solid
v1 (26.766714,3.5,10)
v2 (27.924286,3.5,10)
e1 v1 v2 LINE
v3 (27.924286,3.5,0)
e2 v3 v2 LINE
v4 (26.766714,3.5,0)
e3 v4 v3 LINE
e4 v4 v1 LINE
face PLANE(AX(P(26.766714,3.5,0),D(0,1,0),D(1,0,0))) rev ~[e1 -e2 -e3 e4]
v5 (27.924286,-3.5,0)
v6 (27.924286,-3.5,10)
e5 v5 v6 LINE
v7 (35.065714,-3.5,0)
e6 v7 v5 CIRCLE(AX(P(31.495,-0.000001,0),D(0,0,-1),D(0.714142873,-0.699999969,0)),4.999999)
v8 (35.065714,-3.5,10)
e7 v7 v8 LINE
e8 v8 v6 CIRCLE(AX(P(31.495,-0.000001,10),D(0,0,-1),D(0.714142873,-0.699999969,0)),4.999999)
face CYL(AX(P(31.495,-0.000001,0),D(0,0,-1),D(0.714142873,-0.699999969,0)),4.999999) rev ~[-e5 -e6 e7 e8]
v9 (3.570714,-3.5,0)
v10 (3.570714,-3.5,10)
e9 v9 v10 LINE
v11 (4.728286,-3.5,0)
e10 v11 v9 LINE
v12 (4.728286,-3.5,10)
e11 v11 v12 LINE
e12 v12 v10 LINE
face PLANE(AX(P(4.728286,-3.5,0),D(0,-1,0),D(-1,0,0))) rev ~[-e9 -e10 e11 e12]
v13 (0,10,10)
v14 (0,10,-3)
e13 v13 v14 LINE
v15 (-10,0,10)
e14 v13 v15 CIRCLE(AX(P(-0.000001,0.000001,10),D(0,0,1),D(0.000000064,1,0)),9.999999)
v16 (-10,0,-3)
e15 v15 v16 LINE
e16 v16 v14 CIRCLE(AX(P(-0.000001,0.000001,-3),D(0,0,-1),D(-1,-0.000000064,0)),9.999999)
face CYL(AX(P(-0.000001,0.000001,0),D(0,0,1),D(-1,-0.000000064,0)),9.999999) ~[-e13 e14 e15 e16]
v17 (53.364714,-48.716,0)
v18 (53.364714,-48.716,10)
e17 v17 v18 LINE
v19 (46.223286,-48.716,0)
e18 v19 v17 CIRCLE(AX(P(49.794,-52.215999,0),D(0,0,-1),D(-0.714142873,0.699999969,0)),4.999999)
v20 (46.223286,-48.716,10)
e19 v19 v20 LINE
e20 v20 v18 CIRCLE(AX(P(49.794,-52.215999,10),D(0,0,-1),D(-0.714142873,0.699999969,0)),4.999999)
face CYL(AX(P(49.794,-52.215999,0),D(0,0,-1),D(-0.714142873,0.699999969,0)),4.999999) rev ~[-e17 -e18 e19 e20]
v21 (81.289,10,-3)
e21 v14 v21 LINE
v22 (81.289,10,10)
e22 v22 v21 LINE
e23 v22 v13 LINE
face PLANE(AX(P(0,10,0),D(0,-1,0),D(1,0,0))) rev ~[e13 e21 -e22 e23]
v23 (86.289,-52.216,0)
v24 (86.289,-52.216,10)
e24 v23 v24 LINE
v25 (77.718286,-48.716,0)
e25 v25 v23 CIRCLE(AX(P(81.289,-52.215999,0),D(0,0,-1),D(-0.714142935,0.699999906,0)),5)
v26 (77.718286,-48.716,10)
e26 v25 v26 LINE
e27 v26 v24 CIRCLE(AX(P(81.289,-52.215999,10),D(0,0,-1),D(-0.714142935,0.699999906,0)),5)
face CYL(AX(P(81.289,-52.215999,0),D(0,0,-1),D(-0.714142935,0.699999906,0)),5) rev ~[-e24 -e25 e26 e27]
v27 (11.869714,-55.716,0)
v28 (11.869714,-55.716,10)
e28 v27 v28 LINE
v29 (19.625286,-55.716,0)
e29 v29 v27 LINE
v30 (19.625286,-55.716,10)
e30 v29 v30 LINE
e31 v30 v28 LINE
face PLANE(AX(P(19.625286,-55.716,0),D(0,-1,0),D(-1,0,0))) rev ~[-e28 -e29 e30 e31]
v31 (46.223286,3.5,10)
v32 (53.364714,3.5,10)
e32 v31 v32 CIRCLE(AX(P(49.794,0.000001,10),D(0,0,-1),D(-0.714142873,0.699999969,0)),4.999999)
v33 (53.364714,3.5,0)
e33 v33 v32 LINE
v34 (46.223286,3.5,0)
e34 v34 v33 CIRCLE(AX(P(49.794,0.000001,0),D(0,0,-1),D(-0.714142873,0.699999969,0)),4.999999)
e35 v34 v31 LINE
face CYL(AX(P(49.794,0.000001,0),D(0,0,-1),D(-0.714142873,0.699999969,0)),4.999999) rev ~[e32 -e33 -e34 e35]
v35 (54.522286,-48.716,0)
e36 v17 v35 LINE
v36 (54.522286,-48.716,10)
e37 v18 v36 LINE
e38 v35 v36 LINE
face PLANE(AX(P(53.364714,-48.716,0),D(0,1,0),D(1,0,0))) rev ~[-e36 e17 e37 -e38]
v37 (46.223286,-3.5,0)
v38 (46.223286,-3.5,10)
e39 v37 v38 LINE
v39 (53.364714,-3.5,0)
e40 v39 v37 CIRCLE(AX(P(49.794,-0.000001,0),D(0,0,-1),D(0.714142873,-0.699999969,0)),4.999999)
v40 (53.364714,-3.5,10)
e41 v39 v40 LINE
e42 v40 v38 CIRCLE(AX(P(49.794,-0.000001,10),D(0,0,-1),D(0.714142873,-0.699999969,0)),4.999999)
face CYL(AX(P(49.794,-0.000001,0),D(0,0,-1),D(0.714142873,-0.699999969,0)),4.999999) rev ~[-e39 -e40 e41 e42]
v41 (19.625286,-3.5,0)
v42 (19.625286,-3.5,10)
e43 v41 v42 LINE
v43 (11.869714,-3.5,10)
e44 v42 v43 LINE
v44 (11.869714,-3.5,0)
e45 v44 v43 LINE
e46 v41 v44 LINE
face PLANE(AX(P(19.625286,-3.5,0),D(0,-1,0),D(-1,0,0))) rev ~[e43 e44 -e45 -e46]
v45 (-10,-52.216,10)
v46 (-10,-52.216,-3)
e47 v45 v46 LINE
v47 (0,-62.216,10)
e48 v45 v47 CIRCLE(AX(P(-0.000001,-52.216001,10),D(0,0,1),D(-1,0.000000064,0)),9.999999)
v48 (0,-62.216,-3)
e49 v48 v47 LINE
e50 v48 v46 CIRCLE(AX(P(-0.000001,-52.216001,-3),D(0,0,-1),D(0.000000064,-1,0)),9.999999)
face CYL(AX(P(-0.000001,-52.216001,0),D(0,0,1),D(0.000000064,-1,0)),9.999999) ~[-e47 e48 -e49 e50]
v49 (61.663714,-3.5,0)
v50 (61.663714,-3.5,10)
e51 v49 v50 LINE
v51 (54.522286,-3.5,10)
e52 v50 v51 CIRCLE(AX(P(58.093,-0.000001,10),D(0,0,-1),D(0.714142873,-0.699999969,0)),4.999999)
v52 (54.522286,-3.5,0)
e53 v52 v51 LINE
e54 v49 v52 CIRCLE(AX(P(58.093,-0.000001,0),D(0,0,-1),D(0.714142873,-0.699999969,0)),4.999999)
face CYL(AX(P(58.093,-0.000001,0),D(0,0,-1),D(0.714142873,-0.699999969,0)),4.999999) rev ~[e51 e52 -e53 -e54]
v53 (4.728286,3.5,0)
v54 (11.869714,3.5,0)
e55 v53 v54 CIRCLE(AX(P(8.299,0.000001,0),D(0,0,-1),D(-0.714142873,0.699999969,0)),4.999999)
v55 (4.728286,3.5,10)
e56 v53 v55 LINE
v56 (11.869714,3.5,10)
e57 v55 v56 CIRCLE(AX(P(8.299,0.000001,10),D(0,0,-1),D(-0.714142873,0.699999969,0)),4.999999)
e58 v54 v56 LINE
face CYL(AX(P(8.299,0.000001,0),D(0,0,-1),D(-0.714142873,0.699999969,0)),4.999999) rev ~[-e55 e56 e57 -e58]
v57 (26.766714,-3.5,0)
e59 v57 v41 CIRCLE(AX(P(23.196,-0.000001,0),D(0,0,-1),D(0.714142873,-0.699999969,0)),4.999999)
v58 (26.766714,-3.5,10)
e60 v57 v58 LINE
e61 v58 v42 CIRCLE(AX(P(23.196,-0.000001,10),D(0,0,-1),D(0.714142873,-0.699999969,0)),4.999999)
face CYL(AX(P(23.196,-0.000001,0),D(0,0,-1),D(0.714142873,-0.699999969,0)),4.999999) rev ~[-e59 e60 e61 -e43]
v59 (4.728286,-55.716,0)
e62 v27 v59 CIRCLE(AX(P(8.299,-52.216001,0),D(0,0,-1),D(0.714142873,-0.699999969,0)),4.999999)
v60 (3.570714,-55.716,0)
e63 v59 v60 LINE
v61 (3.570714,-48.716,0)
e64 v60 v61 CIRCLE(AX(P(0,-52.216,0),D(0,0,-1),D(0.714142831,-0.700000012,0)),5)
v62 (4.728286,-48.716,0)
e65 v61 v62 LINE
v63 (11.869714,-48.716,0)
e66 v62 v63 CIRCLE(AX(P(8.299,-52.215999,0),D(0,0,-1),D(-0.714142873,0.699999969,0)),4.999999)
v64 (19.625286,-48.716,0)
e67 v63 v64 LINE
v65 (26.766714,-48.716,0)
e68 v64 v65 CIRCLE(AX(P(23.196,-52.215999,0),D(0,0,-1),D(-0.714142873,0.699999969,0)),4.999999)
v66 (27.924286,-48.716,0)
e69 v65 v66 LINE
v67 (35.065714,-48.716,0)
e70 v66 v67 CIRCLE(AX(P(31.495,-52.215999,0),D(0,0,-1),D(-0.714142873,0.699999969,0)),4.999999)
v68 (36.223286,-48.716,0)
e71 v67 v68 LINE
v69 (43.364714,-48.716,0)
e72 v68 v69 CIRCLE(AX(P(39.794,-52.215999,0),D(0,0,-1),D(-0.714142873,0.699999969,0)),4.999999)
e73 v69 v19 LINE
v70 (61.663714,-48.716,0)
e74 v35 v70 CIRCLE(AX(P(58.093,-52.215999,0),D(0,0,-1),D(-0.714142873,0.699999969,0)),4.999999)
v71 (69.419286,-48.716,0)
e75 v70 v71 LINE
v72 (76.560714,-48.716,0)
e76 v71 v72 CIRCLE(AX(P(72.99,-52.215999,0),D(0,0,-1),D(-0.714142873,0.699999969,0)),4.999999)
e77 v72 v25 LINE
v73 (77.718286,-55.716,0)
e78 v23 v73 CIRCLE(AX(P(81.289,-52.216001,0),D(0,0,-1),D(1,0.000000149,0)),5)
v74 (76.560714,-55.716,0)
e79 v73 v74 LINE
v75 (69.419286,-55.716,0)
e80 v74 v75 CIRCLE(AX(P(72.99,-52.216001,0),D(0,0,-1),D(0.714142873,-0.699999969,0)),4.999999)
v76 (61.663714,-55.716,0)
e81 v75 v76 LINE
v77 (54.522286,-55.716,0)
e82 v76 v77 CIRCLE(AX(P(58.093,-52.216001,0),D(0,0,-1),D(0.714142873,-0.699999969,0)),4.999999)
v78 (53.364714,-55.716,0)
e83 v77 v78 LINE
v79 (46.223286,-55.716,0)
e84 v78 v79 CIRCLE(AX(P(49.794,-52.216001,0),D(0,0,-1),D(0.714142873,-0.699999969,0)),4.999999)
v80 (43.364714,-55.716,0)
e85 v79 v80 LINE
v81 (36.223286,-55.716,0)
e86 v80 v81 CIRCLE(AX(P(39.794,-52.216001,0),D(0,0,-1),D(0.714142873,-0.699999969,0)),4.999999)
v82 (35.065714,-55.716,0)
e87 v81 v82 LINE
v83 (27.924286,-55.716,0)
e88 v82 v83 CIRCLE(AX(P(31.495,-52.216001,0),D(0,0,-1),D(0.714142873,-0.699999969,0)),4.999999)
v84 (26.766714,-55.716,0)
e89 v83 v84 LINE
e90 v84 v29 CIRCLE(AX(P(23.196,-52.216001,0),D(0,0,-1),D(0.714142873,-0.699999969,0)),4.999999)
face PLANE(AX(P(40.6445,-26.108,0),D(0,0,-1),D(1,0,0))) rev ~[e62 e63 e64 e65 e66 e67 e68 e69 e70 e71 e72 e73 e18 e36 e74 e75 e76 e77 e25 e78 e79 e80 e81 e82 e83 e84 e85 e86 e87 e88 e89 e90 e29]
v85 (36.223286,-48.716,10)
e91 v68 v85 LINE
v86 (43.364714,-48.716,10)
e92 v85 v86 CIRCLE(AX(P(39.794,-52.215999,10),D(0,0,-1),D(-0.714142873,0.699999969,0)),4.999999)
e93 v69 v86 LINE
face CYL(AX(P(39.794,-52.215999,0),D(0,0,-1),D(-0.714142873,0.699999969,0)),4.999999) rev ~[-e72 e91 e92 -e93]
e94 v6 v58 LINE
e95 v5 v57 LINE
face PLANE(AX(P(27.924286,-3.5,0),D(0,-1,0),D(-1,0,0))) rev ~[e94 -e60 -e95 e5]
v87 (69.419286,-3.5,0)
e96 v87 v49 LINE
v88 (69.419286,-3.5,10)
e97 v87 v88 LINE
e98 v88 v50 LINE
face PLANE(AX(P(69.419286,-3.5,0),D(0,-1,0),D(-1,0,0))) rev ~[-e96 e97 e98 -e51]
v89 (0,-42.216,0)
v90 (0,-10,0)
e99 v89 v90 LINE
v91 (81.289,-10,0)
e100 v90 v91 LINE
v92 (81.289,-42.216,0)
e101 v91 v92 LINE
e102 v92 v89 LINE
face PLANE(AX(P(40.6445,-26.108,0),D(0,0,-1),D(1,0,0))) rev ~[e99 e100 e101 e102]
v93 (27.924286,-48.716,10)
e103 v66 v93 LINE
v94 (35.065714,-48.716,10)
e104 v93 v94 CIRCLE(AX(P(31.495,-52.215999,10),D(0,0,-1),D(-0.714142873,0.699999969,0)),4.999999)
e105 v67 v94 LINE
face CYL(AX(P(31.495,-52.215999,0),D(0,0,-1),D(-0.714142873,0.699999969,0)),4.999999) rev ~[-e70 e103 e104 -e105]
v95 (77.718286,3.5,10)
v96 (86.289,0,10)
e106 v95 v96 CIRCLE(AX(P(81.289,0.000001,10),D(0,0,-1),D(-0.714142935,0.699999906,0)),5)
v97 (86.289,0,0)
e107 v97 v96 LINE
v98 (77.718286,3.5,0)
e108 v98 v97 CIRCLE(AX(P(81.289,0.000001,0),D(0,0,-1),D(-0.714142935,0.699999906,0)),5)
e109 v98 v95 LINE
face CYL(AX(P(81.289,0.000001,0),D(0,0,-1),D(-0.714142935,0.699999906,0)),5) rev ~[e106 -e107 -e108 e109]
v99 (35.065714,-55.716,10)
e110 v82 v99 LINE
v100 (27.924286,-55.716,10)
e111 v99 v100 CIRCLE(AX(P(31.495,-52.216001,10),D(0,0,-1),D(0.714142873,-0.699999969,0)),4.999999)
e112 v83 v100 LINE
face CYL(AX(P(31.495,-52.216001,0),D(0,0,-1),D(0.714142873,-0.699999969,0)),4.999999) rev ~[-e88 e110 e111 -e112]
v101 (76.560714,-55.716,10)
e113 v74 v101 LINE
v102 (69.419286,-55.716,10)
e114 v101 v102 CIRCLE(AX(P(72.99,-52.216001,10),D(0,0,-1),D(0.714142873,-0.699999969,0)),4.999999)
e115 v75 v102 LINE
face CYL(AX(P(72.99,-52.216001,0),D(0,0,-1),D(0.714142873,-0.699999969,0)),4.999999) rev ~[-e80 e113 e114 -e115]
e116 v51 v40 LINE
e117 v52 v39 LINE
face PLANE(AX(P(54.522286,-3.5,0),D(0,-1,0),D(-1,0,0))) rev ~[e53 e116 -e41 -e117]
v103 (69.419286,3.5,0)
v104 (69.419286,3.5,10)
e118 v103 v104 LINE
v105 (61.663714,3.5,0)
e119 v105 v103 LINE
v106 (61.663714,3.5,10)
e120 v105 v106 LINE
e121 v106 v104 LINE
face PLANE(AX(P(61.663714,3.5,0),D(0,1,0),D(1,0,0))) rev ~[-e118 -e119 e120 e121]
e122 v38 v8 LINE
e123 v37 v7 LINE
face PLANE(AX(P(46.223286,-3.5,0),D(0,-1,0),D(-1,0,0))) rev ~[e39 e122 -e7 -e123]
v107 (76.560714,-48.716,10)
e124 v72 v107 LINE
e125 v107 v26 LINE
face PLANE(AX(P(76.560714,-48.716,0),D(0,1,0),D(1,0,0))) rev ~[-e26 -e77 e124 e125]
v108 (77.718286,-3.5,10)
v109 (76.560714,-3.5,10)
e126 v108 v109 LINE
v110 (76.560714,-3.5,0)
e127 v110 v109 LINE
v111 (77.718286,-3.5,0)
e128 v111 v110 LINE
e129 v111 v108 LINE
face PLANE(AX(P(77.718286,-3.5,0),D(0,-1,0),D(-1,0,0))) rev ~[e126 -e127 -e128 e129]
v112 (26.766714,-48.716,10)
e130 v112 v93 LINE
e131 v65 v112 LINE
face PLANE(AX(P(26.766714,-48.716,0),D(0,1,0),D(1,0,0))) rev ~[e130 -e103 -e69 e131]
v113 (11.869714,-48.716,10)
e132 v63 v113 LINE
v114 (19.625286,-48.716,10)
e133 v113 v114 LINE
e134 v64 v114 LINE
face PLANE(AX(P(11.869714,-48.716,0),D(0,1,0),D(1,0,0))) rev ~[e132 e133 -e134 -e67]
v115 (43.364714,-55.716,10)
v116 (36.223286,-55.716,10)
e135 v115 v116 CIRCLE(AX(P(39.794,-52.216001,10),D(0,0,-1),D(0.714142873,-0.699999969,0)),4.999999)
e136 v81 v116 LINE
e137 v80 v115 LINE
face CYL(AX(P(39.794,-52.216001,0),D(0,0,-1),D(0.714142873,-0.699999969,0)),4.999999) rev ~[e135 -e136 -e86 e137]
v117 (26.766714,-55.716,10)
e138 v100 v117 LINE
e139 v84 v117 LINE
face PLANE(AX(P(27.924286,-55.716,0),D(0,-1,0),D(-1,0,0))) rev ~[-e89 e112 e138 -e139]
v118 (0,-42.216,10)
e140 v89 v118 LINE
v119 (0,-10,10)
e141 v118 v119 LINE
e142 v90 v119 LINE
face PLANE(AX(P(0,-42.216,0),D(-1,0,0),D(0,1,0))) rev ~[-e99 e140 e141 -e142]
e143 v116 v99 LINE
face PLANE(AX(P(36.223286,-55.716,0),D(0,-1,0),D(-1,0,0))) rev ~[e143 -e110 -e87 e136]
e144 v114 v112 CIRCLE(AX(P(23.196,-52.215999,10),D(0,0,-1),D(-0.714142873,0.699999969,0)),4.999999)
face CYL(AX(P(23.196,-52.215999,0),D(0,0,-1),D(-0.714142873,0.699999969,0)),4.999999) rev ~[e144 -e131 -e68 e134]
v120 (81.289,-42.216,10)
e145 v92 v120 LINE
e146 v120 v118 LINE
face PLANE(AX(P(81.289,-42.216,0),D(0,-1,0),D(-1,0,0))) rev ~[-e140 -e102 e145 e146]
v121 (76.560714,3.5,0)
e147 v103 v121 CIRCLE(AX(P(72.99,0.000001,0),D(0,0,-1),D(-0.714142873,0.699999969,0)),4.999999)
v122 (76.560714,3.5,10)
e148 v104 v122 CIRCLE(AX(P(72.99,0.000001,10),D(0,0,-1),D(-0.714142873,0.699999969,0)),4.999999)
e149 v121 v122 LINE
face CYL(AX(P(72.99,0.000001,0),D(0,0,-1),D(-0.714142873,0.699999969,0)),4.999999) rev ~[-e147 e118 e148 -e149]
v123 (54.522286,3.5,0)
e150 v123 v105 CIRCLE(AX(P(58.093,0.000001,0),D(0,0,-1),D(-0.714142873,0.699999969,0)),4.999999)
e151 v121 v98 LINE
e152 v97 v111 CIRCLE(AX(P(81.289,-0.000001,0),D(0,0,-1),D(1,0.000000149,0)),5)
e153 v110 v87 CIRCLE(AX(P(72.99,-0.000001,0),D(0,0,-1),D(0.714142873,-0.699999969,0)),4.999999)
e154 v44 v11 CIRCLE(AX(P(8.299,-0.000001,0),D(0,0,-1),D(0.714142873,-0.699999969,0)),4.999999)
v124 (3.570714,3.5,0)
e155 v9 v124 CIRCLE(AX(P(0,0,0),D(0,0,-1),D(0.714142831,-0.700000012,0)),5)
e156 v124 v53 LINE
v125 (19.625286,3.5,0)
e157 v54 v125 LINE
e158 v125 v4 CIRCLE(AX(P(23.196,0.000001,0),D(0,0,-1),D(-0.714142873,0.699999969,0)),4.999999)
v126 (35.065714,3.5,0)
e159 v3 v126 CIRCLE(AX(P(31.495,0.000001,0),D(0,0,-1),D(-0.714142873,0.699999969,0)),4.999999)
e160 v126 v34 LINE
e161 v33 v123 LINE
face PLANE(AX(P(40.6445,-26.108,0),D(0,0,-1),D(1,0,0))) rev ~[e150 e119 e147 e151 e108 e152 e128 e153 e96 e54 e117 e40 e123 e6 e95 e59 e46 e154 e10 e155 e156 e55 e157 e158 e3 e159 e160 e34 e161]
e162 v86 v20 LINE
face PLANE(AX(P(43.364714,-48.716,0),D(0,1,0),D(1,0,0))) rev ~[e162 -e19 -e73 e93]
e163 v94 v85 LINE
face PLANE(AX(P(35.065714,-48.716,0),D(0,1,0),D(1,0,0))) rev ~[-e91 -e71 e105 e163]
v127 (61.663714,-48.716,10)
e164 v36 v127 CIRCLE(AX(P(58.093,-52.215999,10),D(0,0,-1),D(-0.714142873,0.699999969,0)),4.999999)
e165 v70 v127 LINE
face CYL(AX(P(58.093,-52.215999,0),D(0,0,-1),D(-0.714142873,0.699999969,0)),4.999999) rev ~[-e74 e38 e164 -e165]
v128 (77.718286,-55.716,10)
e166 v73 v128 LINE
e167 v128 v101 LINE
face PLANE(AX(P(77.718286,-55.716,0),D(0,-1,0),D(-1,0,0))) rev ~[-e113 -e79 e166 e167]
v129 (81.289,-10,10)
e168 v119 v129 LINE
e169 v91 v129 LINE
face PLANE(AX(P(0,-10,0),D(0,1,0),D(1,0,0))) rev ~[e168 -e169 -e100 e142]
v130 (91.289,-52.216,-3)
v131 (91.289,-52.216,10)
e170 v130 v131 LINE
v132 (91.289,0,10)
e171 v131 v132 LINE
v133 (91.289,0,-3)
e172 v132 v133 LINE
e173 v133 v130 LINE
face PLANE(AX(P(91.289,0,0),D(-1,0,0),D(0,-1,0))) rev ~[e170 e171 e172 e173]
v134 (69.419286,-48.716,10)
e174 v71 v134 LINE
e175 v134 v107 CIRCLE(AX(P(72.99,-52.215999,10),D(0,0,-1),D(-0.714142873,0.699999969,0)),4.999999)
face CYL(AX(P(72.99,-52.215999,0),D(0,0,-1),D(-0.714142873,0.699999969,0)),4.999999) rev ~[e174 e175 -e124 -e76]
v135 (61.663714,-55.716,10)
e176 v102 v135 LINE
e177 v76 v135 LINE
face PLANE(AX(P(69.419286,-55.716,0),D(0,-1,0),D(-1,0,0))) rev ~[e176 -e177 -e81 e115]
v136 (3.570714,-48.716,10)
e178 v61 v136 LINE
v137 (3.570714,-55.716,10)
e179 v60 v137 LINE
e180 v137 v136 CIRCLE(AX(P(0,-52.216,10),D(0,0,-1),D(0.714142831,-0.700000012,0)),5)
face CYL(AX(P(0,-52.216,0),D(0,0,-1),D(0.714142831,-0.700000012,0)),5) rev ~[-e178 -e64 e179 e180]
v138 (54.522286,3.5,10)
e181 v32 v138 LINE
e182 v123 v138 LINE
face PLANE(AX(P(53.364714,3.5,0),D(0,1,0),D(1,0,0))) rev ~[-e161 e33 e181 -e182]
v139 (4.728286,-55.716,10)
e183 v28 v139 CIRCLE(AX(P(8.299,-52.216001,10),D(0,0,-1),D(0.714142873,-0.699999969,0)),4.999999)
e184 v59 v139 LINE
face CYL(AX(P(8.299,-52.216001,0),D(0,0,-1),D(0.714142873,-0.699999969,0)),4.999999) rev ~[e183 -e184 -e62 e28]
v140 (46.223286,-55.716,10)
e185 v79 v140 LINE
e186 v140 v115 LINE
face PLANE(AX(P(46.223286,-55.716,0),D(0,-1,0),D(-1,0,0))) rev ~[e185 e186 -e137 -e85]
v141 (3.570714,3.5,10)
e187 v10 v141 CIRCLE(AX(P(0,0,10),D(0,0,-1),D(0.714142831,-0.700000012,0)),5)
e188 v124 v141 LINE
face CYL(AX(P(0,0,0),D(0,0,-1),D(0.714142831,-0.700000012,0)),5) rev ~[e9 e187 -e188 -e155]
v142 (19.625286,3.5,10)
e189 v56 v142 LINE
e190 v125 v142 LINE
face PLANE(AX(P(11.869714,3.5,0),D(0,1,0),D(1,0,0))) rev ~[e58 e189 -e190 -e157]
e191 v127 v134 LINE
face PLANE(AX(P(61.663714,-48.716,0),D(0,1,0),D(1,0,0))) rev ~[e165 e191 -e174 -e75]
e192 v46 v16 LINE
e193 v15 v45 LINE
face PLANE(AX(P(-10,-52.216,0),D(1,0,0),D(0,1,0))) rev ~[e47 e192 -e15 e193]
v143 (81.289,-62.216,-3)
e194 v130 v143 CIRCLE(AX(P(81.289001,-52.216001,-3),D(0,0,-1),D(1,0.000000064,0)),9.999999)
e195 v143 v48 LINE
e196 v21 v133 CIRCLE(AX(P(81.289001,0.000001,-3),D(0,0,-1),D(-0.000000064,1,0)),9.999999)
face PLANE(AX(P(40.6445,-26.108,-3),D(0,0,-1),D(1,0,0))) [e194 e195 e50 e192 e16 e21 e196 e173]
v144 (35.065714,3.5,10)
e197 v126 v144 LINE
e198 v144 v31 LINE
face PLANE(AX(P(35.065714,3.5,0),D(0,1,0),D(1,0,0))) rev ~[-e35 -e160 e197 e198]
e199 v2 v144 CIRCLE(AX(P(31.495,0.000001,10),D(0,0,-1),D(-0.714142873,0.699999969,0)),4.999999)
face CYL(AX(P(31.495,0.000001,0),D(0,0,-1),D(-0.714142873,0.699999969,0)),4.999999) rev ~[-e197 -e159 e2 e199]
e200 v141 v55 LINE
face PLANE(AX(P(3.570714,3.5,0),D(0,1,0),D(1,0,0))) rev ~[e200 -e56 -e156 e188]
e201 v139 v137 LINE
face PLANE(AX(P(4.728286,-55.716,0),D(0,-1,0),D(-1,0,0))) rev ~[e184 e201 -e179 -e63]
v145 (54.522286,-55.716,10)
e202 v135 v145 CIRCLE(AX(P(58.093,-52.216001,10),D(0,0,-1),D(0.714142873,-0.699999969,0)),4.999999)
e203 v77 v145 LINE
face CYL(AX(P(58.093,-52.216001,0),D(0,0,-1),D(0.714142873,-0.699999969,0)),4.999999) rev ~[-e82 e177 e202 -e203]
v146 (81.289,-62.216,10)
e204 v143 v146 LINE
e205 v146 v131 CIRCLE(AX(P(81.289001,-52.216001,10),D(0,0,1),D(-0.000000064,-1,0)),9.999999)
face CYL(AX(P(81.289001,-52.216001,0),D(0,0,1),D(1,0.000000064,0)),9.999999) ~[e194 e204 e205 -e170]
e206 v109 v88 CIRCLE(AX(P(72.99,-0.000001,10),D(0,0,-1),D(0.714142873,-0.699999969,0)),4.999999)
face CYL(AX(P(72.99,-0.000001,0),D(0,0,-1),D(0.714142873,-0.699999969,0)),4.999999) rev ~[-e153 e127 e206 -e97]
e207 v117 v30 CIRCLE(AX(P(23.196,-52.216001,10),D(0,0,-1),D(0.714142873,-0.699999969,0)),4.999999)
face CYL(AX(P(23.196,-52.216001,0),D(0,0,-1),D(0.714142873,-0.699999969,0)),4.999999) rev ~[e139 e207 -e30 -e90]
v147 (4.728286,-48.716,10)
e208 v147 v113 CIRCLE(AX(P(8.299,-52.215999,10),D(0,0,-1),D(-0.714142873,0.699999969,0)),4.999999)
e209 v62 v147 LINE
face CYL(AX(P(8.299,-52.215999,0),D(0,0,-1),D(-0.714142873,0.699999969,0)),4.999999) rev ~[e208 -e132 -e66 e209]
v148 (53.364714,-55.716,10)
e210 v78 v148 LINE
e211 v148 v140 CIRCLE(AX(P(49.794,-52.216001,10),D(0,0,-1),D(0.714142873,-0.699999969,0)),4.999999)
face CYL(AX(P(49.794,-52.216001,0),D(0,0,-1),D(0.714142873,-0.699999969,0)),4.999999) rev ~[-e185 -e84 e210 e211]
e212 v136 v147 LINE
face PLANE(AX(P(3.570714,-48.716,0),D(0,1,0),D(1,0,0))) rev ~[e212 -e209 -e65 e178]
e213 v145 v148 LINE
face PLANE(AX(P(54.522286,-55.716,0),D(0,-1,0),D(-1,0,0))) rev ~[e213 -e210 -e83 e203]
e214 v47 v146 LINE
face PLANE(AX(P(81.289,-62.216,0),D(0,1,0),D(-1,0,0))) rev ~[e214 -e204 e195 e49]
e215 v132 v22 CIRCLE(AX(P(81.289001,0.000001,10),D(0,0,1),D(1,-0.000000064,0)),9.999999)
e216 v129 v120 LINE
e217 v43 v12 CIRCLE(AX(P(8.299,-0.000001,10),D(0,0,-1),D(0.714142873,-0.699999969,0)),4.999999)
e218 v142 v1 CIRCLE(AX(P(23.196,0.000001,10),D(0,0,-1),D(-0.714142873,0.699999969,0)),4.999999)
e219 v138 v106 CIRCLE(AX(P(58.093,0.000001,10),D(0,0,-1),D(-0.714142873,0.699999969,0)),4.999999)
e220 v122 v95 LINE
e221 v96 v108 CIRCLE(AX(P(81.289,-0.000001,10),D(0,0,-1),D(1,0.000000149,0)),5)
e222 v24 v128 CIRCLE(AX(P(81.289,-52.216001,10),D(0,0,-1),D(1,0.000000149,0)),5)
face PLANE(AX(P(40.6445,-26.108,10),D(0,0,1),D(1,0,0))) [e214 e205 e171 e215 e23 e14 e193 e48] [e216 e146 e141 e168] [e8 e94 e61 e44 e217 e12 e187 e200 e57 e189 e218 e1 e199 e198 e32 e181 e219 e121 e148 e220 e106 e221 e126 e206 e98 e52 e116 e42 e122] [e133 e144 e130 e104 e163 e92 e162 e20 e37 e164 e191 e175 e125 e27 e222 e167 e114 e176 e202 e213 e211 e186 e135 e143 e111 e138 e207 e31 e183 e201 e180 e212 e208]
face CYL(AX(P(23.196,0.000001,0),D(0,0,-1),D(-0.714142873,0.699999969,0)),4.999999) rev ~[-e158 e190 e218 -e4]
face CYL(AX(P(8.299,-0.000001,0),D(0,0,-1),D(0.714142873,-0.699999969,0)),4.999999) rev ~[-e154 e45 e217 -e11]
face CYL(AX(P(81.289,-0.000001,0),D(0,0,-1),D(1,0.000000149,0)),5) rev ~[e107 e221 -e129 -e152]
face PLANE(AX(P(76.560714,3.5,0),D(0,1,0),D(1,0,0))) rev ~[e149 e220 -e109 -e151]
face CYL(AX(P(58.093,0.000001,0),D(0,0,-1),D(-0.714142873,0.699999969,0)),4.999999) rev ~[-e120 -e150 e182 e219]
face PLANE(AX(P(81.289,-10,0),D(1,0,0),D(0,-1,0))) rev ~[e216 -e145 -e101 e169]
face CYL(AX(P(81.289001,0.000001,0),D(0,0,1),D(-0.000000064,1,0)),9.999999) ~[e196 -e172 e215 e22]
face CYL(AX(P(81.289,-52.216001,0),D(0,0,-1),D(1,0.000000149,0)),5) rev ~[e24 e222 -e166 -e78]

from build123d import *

# Parameters (mm, degrees)
F1_DEPTH = 10
F3_DEPTH = 3


with BuildPart() as f1:
    # F0 (on Top) → F1 (new body)
    with BuildSketch(Plane.XY):
        with BuildLine():
            Line((81.289, 10), (0, 10))
            ThreePointArc((0, 10), (-7.071068, 7.071068), (-10, 0))
            Line((-10, 0), (-10, -26.108))
            Line((-10, -26.108), (-10, -52.216))
            ThreePointArc((-10, -52.216), (-7.071068, -59.287068), (0, -62.216))
            Line((0, -62.216), (81.289, -62.216))
            ThreePointArc((81.289, -62.216), (88.360068, -59.287068), (91.289, -52.216))
            Line((91.289, -52.216), (91.289, -26.108))
            Line((91.289, -26.108), (91.289, 0))
            ThreePointArc((91.289, 0), (88.360068, 7.071068), (81.289, 10))
        make_face()
        with BuildLine():
            ThreePointArc((3.570714, -55.716), (-5, -52.216), (3.570714, -48.716))
            Line((3.570714, -48.716), (4.728286, -48.716))
            ThreePointArc((4.728286, -48.716), (8.299, -47.216), (11.869714, -48.716))
            Line((11.869714, -48.716), (19.625286, -48.716))
            ThreePointArc((19.625286, -48.716), (23.196, -47.216), (26.766714, -48.716))
            Line((26.766714, -48.716), (27.924286, -48.716))
            ThreePointArc((27.924286, -48.716), (31.495, -47.216), (35.065714, -48.716))
            Line((35.065714, -48.716), (36.223286, -48.716))
            ThreePointArc((36.223286, -48.716), (39.794, -47.216), (43.364714, -48.716))
            Line((43.364714, -48.716), (46.223286, -48.716))
            ThreePointArc((46.223286, -48.716), (49.794, -47.216), (53.364714, -48.716))
            Line((53.364714, -48.716), (54.522286, -48.716))
            ThreePointArc((54.522286, -48.716), (58.093, -47.216), (61.663714, -48.716))
            Line((61.663714, -48.716), (69.419286, -48.716))
            ThreePointArc((69.419286, -48.716), (72.99, -47.216), (76.560714, -48.716))
            Line((76.560714, -48.716), (77.718286, -48.716))
            ThreePointArc((77.718286, -48.716), (83.179295, -47.587092), (86.289, -52.216))
            ThreePointArc((86.289, -52.216), (83.179295, -56.844908), (77.718286, -55.716))
            Line((77.718286, -55.716), (76.560714, -55.716))
            ThreePointArc((76.560714, -55.716), (72.99, -57.216), (69.419286, -55.716))
            Line((69.419286, -55.716), (61.663714, -55.716))
            ThreePointArc((61.663714, -55.716), (58.093, -57.216), (54.522286, -55.716))
            Line((54.522286, -55.716), (53.364714, -55.716))
            ThreePointArc((53.364714, -55.716), (49.794, -57.216), (46.223286, -55.716))
            Line((46.223286, -55.716), (43.364714, -55.716))
            ThreePointArc((43.364714, -55.716), (39.794, -57.216), (36.223286, -55.716))
            Line((36.223286, -55.716), (35.065714, -55.716))
            ThreePointArc((35.065714, -55.716), (31.495, -57.216), (27.924286, -55.716))
            Line((27.924286, -55.716), (26.766714, -55.716))
            ThreePointArc((26.766714, -55.716), (23.196, -57.216), (19.625286, -55.716))
            Line((19.625286, -55.716), (11.869714, -55.716))
            ThreePointArc((11.869714, -55.716), (8.299, -57.216), (4.728286, -55.716))
            Line((4.728286, -55.716), (3.570714, -55.716))
        make_face(mode=Mode.SUBTRACT)
        Polygon((0, -42.216), (0, -26.108), (0, -10), (81.289, -10), (81.289, -26.108), (81.289, -42.216), align=None, mode=Mode.SUBTRACT)
        with BuildLine():
            ThreePointArc((3.570714, -3.5), (-5, 0), (3.570714, 3.5))
            Line((3.570714, 3.5), (4.728286, 3.5))
            ThreePointArc((4.728286, 3.5), (8.299, 5), (11.869714, 3.5))
            Line((11.869714, 3.5), (19.625286, 3.5))
            ThreePointArc((19.625286, 3.5), (23.196, 5), (26.766714, 3.5))
            Line((26.766714, 3.5), (27.924286, 3.5))
            ThreePointArc((27.924286, 3.5), (31.495, 5), (35.065714, 3.5))
            Line((35.065714, 3.5), (46.223286, 3.5))
            ThreePointArc((46.223286, 3.5), (49.794, 5), (53.364714, 3.5))
            Line((53.364714, 3.5), (54.522286, 3.5))
            ThreePointArc((54.522286, 3.5), (58.093, 5), (61.663714, 3.5))
            Line((61.663714, 3.5), (69.419286, 3.5))
            ThreePointArc((69.419286, 3.5), (72.99, 5), (76.560714, 3.5))
            Line((76.560714, 3.5), (77.718286, 3.5))
            ThreePointArc((77.718286, 3.5), (83.179295, 4.628908), (86.289, 0))
            ThreePointArc((86.289, 0), (83.179295, -4.628908), (77.718286, -3.5))
            Line((77.718286, -3.5), (76.560714, -3.5))
            ThreePointArc((76.560714, -3.5), (72.99, -5), (69.419286, -3.5))
            Line((69.419286, -3.5), (61.663714, -3.5))
            ThreePointArc((61.663714, -3.5), (58.093, -5), (54.522286, -3.5))
            Line((54.522286, -3.5), (53.364714, -3.5))
            ThreePointArc((53.364714, -3.5), (49.794, -5), (46.223286, -3.5))
            Line((46.223286, -3.5), (35.065714, -3.5))
            ThreePointArc((35.065714, -3.5), (31.495, -5), (27.924286, -3.5))
            Line((27.924286, -3.5), (26.766714, -3.5))
            ThreePointArc((26.766714, -3.5), (23.196, -5), (19.625286, -3.5))
            Line((19.625286, -3.5), (11.869714, -3.5))
            ThreePointArc((11.869714, -3.5), (8.299, -5), (4.728286, -3.5))
            Line((4.728286, -3.5), (3.570714, -3.5))
        make_face(mode=Mode.SUBTRACT)
    extrude(amount=F1_DEPTH)

    # F2 (on face) → F3 (join)
    with BuildSketch(Plane(origin=(0, 0, 0), x_dir=(1, 0, 0), z_dir=(0, 0, -1))):
        with BuildLine():
            ThreePointArc((0, 62.216), (-7.071068, 59.287068), (-10, 52.216))
            Line((-10, 52.216), (-10, 0))
            ThreePointArc((-10, 0), (-7.071068, -7.071068), (0, -10))
            Line((0, -10), (81.289, -10))
            ThreePointArc((81.289, -10), (88.360068, -7.071068), (91.289, 0))
            Line((91.289, 0), (91.289, 52.216))
            ThreePointArc((91.289, 52.216), (88.360068, 59.287068), (81.289, 62.216))
            Line((81.289, 62.216), (0, 62.216))
        make_face()
    extrude(amount=F3_DEPTH)


solid = f1.part
